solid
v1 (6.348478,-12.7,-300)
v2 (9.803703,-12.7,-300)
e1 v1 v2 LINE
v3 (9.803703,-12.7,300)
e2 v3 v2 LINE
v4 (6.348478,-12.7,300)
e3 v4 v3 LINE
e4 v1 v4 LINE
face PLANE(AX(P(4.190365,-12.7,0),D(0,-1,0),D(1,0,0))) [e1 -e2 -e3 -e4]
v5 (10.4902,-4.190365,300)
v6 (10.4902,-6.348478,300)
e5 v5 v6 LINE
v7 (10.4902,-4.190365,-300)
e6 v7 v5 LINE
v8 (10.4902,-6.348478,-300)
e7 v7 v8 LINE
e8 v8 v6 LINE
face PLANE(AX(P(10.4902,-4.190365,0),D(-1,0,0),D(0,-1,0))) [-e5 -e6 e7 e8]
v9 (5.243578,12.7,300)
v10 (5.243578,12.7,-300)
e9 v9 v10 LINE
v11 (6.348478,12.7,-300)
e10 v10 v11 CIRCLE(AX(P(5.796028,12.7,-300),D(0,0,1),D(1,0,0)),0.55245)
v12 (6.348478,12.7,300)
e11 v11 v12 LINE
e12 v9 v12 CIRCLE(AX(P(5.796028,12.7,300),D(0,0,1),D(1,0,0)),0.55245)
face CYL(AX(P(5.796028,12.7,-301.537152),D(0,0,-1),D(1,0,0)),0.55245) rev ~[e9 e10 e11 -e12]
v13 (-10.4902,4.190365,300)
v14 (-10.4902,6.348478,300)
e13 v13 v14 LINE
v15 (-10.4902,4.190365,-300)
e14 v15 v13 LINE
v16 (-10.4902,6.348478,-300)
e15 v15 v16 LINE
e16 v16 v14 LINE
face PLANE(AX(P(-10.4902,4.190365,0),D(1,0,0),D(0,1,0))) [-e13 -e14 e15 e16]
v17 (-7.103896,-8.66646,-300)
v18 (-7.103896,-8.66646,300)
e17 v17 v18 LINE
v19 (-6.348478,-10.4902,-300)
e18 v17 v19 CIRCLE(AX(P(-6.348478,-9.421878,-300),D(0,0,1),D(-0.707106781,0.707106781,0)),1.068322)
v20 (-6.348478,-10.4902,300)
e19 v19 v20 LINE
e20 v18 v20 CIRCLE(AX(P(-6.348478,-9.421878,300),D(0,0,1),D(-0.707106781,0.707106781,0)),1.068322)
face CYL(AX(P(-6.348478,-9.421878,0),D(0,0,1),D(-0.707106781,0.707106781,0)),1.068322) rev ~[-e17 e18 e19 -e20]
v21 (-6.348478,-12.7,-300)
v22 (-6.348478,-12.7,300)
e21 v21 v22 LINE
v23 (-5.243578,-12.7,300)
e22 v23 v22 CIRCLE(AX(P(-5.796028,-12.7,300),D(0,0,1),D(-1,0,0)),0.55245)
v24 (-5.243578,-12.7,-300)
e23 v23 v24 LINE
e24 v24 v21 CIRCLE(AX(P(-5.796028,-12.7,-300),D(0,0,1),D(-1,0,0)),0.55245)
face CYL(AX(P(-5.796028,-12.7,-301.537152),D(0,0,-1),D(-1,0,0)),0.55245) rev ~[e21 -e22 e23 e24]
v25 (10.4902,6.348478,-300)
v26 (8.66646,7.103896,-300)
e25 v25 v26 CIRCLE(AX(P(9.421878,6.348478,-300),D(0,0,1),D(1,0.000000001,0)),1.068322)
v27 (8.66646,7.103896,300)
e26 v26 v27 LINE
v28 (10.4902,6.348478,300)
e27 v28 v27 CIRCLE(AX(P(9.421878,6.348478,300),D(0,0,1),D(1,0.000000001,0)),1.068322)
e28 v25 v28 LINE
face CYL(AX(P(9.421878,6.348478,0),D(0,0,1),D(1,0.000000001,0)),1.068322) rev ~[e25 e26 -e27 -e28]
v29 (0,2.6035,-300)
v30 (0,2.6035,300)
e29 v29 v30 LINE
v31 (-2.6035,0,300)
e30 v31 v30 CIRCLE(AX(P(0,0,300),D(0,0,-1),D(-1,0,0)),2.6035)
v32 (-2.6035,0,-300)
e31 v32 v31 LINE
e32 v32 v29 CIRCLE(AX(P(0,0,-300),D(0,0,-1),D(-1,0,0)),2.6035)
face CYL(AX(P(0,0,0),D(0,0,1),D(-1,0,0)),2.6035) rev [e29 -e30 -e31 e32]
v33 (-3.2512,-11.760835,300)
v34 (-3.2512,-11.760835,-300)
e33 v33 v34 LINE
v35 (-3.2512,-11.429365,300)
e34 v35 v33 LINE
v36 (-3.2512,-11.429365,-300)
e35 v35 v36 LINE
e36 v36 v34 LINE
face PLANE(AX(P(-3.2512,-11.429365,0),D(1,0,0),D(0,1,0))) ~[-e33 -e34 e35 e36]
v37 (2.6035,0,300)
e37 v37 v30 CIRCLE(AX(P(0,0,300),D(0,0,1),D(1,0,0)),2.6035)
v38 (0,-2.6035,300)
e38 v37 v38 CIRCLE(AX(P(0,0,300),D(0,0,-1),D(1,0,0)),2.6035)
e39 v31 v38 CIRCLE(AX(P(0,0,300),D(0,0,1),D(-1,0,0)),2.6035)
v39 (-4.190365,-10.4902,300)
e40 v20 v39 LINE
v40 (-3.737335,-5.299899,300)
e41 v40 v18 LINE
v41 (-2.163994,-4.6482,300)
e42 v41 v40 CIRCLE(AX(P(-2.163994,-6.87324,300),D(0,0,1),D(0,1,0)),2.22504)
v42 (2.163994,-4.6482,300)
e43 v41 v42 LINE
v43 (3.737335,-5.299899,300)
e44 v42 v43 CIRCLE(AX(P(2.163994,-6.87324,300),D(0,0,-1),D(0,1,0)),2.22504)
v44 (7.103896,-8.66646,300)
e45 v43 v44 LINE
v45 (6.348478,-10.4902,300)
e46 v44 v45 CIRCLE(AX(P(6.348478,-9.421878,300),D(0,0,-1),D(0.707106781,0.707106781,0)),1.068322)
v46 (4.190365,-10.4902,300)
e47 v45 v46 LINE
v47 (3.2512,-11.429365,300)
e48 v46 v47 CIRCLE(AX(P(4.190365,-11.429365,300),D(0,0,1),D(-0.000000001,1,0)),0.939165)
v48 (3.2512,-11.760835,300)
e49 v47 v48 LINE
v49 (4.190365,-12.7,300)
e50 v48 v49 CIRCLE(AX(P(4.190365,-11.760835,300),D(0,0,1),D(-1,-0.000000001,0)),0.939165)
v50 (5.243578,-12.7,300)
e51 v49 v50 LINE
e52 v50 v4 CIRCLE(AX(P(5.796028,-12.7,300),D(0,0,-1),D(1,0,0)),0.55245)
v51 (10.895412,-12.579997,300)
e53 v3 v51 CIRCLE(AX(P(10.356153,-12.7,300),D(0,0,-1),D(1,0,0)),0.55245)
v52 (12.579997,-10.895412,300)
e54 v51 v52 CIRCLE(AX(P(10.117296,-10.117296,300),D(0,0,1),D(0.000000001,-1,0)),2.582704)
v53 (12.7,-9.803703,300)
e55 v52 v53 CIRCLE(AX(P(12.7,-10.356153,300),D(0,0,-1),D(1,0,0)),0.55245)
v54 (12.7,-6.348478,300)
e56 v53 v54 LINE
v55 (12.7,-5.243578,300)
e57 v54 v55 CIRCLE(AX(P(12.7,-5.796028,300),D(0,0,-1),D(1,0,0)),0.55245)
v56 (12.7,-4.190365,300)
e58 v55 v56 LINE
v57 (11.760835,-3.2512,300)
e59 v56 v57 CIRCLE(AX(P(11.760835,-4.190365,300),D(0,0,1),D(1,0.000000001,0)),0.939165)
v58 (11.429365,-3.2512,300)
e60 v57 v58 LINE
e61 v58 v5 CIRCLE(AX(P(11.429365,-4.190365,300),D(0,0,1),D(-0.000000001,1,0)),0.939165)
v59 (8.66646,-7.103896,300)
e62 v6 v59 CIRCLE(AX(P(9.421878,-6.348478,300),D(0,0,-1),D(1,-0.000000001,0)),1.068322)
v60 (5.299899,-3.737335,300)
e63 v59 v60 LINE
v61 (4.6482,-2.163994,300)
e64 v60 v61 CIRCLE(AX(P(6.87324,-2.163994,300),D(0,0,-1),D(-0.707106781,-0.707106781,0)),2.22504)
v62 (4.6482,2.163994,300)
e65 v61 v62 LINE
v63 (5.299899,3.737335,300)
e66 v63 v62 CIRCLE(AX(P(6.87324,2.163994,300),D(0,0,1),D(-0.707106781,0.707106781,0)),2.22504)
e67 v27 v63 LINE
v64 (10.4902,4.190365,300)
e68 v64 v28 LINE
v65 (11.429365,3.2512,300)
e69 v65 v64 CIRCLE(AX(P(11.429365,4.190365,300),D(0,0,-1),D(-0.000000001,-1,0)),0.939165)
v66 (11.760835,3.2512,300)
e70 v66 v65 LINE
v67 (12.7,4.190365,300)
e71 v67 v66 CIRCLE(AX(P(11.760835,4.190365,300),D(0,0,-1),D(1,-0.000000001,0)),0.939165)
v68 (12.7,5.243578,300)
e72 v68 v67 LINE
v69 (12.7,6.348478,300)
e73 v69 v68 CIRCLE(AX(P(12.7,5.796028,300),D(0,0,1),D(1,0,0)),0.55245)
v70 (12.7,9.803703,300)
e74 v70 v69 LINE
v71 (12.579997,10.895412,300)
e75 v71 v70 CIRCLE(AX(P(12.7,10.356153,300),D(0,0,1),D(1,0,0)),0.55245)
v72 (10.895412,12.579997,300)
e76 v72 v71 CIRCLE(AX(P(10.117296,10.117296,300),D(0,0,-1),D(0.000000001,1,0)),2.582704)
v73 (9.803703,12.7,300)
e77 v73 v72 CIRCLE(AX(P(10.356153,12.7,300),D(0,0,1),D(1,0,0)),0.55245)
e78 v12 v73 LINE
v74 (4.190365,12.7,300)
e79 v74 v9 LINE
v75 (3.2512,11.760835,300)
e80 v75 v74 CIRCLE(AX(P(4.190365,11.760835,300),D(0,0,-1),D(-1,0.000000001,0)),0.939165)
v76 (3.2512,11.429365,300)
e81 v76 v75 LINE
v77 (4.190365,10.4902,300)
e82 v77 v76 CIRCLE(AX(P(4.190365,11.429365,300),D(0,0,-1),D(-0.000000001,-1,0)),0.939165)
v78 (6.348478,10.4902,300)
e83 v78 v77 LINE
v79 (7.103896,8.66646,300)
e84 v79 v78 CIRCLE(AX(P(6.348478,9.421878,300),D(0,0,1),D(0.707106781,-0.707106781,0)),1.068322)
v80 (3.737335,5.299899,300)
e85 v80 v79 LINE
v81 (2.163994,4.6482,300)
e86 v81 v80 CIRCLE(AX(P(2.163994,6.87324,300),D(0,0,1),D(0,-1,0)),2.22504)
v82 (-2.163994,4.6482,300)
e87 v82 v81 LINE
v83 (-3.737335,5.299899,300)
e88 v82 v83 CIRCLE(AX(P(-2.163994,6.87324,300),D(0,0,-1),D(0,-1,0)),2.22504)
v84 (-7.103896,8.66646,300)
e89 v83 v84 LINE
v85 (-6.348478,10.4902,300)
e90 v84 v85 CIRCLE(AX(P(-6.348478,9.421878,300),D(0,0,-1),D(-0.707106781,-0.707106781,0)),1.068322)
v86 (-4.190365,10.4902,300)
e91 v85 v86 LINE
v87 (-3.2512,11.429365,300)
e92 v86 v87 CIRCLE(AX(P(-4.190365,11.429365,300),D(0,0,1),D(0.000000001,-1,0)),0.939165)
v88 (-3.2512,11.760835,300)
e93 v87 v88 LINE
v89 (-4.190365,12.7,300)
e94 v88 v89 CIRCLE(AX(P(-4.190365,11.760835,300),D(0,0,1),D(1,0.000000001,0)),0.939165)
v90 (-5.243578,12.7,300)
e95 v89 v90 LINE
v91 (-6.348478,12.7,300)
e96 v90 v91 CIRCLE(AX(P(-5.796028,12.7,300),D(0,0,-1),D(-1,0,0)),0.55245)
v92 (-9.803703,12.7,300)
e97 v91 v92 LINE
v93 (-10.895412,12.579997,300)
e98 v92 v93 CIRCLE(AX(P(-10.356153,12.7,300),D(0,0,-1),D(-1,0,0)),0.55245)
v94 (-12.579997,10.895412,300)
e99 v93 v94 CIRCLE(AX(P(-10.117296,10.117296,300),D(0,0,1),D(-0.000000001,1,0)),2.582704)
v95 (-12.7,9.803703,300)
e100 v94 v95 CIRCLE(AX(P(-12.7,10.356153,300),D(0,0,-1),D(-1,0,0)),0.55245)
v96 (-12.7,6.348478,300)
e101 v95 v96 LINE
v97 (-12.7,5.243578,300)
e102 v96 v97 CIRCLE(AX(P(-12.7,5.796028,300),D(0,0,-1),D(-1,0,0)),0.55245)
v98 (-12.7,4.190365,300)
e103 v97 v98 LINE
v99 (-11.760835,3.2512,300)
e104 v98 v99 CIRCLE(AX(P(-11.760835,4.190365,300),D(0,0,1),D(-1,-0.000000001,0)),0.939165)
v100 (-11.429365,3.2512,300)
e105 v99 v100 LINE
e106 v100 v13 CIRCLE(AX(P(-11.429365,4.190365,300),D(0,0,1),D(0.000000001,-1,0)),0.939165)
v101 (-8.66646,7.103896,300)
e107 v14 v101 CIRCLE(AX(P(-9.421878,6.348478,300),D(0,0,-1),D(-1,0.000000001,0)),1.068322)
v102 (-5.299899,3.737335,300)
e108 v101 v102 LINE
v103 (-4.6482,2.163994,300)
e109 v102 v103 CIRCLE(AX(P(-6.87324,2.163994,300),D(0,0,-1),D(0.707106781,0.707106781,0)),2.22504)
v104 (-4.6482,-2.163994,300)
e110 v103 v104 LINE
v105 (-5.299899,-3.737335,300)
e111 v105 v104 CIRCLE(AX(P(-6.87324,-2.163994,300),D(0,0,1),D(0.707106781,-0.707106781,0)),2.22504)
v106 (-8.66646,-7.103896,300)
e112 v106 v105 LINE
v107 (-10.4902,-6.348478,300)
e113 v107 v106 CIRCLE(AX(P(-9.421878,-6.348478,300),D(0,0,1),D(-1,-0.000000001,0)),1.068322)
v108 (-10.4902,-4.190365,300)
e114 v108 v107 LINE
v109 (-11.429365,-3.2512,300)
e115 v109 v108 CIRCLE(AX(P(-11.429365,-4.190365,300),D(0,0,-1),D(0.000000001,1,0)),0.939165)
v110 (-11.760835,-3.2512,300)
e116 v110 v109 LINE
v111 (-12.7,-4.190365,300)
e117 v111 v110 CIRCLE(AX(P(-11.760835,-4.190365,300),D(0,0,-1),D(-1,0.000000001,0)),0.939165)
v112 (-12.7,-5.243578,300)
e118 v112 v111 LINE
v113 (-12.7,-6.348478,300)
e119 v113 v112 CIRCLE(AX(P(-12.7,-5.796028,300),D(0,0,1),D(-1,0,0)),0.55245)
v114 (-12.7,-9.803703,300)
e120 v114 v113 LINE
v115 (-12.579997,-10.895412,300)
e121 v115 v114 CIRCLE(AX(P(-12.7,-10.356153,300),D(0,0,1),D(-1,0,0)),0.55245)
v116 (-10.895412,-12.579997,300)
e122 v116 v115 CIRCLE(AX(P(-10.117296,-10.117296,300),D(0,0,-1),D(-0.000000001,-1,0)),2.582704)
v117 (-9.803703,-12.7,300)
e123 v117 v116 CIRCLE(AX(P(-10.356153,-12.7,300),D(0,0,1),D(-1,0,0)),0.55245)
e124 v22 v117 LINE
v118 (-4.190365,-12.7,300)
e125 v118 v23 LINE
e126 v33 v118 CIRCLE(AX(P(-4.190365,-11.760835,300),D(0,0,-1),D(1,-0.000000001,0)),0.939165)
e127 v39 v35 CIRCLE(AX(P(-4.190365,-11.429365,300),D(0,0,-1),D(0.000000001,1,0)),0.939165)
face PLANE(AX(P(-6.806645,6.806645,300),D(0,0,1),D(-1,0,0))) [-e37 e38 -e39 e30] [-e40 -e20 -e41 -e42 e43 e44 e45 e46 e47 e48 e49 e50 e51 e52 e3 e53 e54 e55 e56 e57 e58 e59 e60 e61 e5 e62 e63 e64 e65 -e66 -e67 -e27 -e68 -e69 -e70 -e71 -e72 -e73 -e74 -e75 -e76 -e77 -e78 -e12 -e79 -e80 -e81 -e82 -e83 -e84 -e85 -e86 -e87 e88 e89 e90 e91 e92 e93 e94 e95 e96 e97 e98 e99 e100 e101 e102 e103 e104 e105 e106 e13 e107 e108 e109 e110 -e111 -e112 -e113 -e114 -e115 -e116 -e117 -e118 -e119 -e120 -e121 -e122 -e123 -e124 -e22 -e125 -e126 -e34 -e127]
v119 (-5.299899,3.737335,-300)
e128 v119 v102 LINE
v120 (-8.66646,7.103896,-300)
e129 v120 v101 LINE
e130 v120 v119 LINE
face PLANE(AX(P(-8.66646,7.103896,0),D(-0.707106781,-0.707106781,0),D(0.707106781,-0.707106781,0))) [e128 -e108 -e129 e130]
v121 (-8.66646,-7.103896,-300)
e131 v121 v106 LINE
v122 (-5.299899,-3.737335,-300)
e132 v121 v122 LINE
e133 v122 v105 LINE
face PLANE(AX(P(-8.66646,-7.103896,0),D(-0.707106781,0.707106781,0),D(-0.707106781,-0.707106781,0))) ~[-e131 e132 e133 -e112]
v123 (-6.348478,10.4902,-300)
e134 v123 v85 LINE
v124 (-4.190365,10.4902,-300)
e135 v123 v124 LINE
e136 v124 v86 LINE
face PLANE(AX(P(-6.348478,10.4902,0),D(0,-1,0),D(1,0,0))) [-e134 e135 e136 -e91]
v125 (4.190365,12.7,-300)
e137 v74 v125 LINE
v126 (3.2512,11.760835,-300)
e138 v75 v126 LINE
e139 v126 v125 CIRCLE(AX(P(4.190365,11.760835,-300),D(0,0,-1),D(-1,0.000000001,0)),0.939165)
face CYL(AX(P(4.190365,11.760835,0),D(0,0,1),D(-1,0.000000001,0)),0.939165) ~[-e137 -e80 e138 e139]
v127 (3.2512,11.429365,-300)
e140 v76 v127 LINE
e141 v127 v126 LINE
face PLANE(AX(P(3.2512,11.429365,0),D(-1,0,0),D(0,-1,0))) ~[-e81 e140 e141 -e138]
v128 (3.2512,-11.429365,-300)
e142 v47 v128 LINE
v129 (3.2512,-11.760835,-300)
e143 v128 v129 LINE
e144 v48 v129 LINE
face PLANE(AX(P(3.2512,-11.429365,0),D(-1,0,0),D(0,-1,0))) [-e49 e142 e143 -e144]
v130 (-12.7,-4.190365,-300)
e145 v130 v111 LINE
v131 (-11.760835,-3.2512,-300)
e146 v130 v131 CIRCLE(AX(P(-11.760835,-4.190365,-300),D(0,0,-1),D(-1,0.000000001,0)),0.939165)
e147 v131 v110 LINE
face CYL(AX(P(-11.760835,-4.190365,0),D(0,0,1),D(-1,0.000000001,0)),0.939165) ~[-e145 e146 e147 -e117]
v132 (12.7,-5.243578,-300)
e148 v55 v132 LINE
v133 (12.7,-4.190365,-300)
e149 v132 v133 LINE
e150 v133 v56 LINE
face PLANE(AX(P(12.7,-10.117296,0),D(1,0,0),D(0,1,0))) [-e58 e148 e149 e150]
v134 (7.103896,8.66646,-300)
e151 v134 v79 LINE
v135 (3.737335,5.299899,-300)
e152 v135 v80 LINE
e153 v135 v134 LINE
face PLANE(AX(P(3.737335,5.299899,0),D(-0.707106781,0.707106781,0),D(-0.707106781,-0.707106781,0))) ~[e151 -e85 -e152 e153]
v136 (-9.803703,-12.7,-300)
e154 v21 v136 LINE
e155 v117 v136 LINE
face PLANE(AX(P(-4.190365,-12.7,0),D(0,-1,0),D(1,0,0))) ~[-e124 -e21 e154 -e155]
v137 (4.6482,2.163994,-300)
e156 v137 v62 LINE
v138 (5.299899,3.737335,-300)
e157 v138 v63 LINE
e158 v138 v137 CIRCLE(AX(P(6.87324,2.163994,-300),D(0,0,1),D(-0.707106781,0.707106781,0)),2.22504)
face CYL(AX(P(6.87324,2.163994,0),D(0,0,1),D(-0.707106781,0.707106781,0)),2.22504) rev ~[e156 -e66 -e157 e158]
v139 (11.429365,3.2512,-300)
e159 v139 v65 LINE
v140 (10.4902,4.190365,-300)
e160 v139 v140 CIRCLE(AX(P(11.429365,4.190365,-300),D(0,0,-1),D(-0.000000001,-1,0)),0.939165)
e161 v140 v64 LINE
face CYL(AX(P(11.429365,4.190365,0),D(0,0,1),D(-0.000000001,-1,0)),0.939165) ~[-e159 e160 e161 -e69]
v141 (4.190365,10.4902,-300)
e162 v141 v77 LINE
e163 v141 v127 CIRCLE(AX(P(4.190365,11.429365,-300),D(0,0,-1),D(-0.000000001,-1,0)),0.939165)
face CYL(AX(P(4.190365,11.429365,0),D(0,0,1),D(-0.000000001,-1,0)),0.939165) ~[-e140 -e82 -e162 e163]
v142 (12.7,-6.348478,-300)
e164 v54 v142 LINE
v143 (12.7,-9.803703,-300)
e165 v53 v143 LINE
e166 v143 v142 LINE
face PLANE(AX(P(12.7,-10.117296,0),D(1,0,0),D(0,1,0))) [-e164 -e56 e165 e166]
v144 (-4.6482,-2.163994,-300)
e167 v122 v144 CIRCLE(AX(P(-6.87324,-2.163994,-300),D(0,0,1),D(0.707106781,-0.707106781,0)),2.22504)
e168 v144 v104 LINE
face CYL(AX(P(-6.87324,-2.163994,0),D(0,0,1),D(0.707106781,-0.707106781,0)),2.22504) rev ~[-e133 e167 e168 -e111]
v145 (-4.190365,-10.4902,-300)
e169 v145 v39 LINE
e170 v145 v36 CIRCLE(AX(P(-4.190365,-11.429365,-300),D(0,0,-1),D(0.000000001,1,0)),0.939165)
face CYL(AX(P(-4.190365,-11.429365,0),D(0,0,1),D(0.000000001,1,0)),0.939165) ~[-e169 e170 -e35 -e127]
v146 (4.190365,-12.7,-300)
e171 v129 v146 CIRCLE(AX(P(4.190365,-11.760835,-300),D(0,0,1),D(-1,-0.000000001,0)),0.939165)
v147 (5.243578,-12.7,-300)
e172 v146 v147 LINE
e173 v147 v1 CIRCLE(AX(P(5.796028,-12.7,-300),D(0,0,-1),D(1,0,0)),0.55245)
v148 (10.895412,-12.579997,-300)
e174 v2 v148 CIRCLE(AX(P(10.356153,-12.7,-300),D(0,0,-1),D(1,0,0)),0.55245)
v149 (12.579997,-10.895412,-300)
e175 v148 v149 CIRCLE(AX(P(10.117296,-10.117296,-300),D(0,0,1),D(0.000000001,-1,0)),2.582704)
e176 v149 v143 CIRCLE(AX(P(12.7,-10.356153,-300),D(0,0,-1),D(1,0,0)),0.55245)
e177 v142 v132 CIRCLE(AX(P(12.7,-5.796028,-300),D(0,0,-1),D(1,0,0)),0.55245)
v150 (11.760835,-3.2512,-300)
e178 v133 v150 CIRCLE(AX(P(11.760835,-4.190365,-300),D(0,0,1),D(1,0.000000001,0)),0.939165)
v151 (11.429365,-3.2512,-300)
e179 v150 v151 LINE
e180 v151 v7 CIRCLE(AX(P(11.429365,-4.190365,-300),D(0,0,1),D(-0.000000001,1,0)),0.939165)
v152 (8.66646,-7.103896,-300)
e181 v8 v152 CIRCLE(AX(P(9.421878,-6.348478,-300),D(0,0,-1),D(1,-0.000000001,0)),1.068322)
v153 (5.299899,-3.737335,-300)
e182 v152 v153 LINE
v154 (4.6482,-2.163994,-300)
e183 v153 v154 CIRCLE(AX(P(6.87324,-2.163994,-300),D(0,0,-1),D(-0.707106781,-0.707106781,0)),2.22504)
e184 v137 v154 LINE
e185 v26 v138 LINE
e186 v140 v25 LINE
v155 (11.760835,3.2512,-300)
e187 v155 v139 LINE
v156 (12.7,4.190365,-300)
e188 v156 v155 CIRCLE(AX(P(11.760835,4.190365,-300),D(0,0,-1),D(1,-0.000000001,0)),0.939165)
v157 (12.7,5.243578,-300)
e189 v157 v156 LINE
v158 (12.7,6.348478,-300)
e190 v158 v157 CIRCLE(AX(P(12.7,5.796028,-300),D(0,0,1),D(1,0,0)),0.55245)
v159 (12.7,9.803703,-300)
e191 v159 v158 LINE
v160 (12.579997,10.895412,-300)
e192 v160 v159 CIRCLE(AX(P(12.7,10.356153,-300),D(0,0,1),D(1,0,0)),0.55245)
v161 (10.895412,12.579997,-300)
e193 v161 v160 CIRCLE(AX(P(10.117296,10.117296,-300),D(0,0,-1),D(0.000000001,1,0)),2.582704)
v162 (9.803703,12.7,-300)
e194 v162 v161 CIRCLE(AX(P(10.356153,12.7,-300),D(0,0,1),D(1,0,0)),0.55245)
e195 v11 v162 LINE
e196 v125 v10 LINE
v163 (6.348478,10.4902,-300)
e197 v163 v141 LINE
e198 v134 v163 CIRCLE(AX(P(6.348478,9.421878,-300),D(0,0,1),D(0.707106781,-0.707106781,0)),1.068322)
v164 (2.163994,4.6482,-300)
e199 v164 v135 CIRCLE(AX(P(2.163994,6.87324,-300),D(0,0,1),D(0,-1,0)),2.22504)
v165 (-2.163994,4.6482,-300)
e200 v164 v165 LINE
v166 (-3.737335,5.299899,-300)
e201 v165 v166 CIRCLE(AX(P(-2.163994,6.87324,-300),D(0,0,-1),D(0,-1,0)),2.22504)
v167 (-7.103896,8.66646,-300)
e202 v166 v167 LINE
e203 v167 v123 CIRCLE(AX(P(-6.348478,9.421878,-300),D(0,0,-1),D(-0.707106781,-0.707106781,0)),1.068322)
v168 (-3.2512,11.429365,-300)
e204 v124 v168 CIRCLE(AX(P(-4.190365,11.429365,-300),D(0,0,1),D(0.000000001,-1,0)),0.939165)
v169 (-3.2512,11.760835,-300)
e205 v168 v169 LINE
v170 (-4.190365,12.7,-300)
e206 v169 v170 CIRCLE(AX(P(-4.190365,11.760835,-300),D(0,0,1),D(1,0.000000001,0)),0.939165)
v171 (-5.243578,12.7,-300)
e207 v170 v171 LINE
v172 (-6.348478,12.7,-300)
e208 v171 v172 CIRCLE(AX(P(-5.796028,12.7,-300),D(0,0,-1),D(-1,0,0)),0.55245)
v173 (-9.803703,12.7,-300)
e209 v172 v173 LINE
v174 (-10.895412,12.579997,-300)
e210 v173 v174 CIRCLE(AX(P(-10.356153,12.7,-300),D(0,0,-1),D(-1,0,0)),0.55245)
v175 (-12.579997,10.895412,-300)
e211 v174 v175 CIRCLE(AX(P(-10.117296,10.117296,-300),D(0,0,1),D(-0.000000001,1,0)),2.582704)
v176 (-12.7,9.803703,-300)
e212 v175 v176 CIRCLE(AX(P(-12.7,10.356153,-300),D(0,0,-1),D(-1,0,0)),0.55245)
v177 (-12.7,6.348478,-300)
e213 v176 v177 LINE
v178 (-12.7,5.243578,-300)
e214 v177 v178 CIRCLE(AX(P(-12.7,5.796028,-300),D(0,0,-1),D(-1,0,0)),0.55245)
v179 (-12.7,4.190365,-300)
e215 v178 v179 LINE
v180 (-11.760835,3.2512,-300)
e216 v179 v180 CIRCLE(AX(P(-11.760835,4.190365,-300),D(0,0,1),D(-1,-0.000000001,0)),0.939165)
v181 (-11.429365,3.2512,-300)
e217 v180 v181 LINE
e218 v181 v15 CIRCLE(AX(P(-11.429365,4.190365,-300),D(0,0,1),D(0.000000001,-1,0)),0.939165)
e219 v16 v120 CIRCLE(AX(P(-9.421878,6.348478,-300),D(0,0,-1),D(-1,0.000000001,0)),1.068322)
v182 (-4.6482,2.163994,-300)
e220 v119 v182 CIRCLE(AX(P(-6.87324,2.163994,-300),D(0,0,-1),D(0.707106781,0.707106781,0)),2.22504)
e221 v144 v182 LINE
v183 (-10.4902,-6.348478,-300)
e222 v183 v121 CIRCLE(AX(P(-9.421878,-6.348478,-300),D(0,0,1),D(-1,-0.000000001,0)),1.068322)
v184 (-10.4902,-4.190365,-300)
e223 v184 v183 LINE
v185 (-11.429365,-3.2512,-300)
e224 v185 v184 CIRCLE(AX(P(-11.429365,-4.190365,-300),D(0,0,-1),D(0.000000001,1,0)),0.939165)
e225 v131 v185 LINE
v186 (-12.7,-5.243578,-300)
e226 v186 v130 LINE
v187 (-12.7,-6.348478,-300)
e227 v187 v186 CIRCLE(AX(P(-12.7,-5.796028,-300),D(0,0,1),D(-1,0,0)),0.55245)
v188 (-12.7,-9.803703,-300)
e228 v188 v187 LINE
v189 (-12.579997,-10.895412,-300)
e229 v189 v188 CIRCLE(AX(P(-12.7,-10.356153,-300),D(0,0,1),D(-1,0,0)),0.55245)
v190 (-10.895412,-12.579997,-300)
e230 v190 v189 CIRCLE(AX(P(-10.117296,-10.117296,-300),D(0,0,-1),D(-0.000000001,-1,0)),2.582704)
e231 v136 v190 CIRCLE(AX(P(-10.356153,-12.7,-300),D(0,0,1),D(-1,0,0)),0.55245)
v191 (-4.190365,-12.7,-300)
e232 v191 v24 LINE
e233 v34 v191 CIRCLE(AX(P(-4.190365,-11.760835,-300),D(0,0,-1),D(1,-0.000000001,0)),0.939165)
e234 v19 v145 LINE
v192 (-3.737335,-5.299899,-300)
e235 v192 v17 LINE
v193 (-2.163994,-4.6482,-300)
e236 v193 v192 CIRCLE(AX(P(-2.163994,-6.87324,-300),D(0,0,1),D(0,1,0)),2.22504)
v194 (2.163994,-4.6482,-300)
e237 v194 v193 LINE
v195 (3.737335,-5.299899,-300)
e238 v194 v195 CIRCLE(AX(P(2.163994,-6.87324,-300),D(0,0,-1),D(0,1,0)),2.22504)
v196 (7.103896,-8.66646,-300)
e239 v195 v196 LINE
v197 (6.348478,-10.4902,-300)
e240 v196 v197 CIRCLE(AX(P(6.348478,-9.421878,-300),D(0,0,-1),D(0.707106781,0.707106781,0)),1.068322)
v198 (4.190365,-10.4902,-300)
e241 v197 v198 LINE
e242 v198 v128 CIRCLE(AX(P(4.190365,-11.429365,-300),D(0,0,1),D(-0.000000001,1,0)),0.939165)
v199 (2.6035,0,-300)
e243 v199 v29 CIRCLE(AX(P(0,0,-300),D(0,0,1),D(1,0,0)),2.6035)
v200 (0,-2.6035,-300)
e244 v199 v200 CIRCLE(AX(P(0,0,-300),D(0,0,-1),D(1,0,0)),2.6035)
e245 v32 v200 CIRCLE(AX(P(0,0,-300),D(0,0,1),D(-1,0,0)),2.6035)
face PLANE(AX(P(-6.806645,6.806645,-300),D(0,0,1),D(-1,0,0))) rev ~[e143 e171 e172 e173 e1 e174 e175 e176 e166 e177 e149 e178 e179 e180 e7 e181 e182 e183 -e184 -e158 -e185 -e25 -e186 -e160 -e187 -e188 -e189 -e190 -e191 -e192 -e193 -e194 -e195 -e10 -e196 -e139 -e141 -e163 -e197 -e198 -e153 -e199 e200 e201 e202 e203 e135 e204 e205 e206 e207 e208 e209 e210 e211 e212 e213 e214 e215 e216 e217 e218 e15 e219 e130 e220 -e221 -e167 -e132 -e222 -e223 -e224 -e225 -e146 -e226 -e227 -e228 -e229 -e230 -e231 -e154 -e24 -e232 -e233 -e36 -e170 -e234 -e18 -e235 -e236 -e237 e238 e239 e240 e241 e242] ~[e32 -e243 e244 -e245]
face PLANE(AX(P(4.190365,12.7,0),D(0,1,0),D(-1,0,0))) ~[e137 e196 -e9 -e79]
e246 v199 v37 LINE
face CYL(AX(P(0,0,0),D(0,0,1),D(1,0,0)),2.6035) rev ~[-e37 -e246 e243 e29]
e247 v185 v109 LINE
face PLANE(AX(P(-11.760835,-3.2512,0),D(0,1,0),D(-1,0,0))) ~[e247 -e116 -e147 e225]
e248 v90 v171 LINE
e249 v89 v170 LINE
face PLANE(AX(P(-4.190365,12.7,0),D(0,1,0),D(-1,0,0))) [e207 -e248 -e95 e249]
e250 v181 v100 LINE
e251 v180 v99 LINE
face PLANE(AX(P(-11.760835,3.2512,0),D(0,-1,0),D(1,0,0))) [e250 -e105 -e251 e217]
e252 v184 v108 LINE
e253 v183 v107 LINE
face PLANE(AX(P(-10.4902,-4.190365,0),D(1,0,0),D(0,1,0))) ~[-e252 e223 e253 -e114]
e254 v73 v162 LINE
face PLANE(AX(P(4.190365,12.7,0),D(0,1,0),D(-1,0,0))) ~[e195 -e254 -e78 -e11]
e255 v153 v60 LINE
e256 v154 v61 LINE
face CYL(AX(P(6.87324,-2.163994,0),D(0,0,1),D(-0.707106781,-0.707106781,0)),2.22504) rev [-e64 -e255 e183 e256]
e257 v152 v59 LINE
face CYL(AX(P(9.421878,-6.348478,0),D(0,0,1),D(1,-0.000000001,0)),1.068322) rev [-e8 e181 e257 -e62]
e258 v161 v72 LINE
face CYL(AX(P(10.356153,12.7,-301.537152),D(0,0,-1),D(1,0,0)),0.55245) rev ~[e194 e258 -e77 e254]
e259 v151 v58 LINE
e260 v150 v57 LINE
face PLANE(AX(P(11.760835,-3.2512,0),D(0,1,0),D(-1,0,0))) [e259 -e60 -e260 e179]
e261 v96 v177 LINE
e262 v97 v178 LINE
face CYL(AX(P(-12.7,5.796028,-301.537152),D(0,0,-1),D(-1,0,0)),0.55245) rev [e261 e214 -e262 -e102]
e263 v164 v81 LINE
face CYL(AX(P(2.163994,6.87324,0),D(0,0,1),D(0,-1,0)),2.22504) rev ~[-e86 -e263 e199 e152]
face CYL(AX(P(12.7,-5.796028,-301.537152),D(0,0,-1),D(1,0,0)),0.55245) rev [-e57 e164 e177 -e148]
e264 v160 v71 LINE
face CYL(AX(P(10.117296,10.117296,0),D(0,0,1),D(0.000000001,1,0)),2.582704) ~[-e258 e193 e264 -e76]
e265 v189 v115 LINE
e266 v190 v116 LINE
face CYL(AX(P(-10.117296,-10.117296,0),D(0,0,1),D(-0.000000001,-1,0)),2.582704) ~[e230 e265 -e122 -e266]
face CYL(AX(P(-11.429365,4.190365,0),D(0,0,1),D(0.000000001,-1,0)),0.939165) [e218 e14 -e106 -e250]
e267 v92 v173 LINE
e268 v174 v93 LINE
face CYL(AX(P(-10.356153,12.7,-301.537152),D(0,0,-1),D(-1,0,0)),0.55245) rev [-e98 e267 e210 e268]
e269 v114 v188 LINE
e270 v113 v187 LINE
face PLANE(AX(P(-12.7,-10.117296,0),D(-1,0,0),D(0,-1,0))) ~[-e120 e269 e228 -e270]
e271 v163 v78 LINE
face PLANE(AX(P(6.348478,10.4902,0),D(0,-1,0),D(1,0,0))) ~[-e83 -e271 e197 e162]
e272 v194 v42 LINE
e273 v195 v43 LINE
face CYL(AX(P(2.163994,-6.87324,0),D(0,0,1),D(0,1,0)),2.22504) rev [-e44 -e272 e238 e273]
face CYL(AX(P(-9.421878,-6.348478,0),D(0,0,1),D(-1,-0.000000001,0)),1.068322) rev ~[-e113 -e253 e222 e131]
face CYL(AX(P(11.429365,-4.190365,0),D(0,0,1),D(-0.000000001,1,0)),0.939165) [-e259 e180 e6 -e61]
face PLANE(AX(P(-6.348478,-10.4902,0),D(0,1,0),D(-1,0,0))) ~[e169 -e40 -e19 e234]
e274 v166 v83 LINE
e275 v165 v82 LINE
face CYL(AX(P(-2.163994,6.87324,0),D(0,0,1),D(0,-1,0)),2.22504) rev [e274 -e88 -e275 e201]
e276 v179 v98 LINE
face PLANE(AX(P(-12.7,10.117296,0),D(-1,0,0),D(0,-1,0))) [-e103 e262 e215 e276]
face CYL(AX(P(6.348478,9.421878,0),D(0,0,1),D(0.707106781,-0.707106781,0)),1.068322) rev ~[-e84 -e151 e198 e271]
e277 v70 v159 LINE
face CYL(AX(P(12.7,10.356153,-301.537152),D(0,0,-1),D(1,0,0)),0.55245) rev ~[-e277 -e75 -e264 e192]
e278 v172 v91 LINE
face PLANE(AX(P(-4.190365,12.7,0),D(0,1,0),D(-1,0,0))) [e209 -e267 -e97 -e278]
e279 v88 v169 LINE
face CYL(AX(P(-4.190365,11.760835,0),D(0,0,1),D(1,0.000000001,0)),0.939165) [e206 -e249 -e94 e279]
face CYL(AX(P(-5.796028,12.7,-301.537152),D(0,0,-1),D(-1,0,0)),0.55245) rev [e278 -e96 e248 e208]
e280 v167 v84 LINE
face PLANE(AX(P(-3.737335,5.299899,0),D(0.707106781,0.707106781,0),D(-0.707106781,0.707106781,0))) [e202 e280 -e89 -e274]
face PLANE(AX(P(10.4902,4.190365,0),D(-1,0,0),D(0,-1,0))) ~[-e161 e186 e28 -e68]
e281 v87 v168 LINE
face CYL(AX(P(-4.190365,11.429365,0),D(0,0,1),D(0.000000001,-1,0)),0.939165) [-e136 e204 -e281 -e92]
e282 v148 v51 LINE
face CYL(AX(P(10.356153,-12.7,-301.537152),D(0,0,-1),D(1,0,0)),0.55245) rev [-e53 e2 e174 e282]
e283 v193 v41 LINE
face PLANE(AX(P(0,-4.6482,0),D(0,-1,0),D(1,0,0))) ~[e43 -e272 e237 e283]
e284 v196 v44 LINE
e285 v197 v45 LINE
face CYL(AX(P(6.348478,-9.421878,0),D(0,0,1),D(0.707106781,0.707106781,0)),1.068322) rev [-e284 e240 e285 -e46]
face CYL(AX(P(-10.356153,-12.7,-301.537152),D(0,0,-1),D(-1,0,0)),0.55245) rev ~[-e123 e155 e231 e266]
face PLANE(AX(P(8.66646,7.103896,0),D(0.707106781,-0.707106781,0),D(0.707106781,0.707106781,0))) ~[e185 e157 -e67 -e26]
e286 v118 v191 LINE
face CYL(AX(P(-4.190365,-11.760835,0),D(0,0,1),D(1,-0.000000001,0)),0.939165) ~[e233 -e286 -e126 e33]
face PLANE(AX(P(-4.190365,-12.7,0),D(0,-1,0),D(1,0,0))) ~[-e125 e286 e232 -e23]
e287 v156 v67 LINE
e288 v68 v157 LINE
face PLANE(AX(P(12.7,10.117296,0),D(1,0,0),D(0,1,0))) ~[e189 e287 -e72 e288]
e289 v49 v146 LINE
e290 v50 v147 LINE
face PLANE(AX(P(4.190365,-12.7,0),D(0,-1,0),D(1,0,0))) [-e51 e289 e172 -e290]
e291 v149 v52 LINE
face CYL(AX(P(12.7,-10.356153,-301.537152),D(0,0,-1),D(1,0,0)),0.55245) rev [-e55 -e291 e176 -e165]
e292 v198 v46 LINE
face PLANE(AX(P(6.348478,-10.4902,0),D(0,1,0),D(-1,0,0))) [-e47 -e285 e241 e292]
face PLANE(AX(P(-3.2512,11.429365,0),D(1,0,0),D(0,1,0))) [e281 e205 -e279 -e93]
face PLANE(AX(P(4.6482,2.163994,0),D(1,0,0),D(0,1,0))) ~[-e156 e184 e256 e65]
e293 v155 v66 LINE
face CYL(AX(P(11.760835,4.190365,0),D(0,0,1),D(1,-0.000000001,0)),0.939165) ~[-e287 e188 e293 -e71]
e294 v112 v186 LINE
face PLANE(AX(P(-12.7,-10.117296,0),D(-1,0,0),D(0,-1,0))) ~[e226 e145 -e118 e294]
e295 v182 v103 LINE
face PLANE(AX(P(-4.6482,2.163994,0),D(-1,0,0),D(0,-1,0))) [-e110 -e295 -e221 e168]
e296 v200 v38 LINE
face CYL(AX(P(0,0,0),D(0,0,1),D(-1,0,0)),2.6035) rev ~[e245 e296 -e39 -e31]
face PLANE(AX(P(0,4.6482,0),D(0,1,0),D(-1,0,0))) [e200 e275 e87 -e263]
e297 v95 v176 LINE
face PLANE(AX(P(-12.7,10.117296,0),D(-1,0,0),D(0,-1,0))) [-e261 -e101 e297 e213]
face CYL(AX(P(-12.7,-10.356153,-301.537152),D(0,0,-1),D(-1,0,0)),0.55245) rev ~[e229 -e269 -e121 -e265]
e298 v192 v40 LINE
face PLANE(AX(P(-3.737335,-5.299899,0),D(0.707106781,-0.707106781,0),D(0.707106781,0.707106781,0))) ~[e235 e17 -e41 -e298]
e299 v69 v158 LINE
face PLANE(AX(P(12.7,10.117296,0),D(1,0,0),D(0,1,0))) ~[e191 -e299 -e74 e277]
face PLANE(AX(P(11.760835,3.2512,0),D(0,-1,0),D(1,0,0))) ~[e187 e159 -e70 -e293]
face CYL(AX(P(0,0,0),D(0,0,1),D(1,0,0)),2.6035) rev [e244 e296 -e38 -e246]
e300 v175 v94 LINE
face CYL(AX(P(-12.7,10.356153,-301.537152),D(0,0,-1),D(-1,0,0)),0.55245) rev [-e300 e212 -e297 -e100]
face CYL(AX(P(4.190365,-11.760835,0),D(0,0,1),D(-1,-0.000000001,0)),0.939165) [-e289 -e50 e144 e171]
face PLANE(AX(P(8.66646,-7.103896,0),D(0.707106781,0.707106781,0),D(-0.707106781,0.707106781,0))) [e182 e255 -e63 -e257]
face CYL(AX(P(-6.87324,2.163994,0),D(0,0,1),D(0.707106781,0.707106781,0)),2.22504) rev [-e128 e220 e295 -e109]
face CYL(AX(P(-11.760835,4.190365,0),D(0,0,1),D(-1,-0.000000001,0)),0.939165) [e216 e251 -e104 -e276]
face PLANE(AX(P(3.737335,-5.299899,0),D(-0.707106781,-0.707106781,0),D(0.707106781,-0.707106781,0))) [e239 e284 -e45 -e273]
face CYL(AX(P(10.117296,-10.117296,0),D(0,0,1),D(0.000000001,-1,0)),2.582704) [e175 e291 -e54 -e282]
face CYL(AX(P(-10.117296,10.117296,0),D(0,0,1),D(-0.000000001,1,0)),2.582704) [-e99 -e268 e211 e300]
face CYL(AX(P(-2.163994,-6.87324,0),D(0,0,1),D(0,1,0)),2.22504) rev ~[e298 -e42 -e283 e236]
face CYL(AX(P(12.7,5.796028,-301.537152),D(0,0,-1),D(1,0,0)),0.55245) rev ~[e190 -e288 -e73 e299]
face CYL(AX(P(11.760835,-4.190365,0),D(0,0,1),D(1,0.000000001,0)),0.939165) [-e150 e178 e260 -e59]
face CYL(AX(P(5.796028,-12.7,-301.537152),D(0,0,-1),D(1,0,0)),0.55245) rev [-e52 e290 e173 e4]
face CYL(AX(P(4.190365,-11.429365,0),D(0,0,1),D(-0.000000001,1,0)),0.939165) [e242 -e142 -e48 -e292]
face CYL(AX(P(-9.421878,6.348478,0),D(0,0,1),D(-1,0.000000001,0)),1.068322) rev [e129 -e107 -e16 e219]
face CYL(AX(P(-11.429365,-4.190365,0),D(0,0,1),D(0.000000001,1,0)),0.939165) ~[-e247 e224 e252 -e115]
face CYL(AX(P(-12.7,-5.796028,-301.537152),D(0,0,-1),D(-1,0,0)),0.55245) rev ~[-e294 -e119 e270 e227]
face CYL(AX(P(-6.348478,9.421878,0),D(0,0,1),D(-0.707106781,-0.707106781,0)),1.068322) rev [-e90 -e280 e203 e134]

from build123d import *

# Parameters (mm, degrees)
BOSS_EXTRUDE1_DEPTH     = 300
CUT_EXTRUDE1_DEPTH      = 301.537152445
CUT_EXTRUDE1_DEPTH_BACK = 301.537152445
SKETCH5_R               = 0.55245


with BuildPart() as part:
    # Sketch4 → Boss-Extrude1 (new, symmetric)
    with BuildSketch(Plane.XY):
        with BuildLine():
            Line((4.190365, -12.7), (10.11729625, -12.7))
            ThreePointArc((10.11729625, -12.7), (11.943543585, -11.943543585), (12.7, -10.11729625))
            Line((12.7, -10.11729625), (12.7, -4.190365))
            ThreePointArc((12.7, -4.190365), (12.42492494, -3.52627506), (11.760835, -3.2512))
            Line((11.760835, -3.2512), (11.429365, -3.2512))
            ThreePointArc((11.429365, -3.2512), (10.76527506, -3.52627506), (10.4902, -4.190365))
            Line((10.4902, -4.190365), (10.4902, -6.348478019))
            ThreePointArc((10.4902, -6.348478019), (9.830707141, -7.335478831), (8.666460301, -7.103895736))
            Line((8.666460301, -7.103895736), (5.299899128, -3.737334563))
            ThreePointArc((5.299899128, -3.737334563), (4.817571085, -3.015479634), (4.6482, -2.16399369))
            Line((4.6482, -2.16399369), (4.6482, 0))
            Line((4.6482, 0), (2.6035, 0))
            ThreePointArc((2.6035, 0), (1.840952505, -1.840952505), (0, -2.6035))
            Line((0, -2.6035), (0, -4.6482))
            Line((0, -4.6482), (2.16399369, -4.6482))
            ThreePointArc((2.16399369, -4.6482), (3.015479634, -4.817571085), (3.737334563, -5.299899128))
            Line((3.737334563, -5.299899128), (7.103895736, -8.666460301))
            ThreePointArc((7.103895736, -8.666460301), (7.335478831, -9.830707141), (6.348478019, -10.4902))
            Line((6.348478019, -10.4902), (4.190365, -10.4902))
            ThreePointArc((4.190365, -10.4902), (3.52627506, -10.76527506), (3.2512, -11.429365))
            Line((3.2512, -11.429365), (3.2512, -11.760835))
            ThreePointArc((3.2512, -11.760835), (3.52627506, -12.42492494), (4.190365, -12.7))
        make_face()
    extrude(amount=BOSS_EXTRUDE1_DEPTH, both=True)

    # Sketch5 → Cut-Extrude1 (cut, two sides: drawn at the far end of the back side and taken through both)
    with BuildSketch(Plane.XY.offset(-CUT_EXTRUDE1_DEPTH_BACK)):
        with Locations((10.356153152, -12.7)):
            Circle(SKETCH5_R)
        with Locations((5.796028019, -12.7)):
            Circle(SKETCH5_R)
        with Locations((12.7, -10.356153152)):
            Circle(SKETCH5_R)
        with Locations((12.7, -5.796028019)):
            Circle(SKETCH5_R)
    extrude(amount=CUT_EXTRUDE1_DEPTH + CUT_EXTRUDE1_DEPTH_BACK, mode=Mode.SUBTRACT)

    # Mirror1: part across plane


with BuildPart() as part_1:
    add(part.part)
    add(part.part.mirror(Plane(origin=(0, 0, 0), x_dir=(0, 0, 1), z_dir=(1, 0, 0))))

    # Mirror2: part across plane


with BuildPart() as part_2:
    add(part_1.part)
    add(part_1.part.mirror(Plane.ZX))


solid = part_2.part
